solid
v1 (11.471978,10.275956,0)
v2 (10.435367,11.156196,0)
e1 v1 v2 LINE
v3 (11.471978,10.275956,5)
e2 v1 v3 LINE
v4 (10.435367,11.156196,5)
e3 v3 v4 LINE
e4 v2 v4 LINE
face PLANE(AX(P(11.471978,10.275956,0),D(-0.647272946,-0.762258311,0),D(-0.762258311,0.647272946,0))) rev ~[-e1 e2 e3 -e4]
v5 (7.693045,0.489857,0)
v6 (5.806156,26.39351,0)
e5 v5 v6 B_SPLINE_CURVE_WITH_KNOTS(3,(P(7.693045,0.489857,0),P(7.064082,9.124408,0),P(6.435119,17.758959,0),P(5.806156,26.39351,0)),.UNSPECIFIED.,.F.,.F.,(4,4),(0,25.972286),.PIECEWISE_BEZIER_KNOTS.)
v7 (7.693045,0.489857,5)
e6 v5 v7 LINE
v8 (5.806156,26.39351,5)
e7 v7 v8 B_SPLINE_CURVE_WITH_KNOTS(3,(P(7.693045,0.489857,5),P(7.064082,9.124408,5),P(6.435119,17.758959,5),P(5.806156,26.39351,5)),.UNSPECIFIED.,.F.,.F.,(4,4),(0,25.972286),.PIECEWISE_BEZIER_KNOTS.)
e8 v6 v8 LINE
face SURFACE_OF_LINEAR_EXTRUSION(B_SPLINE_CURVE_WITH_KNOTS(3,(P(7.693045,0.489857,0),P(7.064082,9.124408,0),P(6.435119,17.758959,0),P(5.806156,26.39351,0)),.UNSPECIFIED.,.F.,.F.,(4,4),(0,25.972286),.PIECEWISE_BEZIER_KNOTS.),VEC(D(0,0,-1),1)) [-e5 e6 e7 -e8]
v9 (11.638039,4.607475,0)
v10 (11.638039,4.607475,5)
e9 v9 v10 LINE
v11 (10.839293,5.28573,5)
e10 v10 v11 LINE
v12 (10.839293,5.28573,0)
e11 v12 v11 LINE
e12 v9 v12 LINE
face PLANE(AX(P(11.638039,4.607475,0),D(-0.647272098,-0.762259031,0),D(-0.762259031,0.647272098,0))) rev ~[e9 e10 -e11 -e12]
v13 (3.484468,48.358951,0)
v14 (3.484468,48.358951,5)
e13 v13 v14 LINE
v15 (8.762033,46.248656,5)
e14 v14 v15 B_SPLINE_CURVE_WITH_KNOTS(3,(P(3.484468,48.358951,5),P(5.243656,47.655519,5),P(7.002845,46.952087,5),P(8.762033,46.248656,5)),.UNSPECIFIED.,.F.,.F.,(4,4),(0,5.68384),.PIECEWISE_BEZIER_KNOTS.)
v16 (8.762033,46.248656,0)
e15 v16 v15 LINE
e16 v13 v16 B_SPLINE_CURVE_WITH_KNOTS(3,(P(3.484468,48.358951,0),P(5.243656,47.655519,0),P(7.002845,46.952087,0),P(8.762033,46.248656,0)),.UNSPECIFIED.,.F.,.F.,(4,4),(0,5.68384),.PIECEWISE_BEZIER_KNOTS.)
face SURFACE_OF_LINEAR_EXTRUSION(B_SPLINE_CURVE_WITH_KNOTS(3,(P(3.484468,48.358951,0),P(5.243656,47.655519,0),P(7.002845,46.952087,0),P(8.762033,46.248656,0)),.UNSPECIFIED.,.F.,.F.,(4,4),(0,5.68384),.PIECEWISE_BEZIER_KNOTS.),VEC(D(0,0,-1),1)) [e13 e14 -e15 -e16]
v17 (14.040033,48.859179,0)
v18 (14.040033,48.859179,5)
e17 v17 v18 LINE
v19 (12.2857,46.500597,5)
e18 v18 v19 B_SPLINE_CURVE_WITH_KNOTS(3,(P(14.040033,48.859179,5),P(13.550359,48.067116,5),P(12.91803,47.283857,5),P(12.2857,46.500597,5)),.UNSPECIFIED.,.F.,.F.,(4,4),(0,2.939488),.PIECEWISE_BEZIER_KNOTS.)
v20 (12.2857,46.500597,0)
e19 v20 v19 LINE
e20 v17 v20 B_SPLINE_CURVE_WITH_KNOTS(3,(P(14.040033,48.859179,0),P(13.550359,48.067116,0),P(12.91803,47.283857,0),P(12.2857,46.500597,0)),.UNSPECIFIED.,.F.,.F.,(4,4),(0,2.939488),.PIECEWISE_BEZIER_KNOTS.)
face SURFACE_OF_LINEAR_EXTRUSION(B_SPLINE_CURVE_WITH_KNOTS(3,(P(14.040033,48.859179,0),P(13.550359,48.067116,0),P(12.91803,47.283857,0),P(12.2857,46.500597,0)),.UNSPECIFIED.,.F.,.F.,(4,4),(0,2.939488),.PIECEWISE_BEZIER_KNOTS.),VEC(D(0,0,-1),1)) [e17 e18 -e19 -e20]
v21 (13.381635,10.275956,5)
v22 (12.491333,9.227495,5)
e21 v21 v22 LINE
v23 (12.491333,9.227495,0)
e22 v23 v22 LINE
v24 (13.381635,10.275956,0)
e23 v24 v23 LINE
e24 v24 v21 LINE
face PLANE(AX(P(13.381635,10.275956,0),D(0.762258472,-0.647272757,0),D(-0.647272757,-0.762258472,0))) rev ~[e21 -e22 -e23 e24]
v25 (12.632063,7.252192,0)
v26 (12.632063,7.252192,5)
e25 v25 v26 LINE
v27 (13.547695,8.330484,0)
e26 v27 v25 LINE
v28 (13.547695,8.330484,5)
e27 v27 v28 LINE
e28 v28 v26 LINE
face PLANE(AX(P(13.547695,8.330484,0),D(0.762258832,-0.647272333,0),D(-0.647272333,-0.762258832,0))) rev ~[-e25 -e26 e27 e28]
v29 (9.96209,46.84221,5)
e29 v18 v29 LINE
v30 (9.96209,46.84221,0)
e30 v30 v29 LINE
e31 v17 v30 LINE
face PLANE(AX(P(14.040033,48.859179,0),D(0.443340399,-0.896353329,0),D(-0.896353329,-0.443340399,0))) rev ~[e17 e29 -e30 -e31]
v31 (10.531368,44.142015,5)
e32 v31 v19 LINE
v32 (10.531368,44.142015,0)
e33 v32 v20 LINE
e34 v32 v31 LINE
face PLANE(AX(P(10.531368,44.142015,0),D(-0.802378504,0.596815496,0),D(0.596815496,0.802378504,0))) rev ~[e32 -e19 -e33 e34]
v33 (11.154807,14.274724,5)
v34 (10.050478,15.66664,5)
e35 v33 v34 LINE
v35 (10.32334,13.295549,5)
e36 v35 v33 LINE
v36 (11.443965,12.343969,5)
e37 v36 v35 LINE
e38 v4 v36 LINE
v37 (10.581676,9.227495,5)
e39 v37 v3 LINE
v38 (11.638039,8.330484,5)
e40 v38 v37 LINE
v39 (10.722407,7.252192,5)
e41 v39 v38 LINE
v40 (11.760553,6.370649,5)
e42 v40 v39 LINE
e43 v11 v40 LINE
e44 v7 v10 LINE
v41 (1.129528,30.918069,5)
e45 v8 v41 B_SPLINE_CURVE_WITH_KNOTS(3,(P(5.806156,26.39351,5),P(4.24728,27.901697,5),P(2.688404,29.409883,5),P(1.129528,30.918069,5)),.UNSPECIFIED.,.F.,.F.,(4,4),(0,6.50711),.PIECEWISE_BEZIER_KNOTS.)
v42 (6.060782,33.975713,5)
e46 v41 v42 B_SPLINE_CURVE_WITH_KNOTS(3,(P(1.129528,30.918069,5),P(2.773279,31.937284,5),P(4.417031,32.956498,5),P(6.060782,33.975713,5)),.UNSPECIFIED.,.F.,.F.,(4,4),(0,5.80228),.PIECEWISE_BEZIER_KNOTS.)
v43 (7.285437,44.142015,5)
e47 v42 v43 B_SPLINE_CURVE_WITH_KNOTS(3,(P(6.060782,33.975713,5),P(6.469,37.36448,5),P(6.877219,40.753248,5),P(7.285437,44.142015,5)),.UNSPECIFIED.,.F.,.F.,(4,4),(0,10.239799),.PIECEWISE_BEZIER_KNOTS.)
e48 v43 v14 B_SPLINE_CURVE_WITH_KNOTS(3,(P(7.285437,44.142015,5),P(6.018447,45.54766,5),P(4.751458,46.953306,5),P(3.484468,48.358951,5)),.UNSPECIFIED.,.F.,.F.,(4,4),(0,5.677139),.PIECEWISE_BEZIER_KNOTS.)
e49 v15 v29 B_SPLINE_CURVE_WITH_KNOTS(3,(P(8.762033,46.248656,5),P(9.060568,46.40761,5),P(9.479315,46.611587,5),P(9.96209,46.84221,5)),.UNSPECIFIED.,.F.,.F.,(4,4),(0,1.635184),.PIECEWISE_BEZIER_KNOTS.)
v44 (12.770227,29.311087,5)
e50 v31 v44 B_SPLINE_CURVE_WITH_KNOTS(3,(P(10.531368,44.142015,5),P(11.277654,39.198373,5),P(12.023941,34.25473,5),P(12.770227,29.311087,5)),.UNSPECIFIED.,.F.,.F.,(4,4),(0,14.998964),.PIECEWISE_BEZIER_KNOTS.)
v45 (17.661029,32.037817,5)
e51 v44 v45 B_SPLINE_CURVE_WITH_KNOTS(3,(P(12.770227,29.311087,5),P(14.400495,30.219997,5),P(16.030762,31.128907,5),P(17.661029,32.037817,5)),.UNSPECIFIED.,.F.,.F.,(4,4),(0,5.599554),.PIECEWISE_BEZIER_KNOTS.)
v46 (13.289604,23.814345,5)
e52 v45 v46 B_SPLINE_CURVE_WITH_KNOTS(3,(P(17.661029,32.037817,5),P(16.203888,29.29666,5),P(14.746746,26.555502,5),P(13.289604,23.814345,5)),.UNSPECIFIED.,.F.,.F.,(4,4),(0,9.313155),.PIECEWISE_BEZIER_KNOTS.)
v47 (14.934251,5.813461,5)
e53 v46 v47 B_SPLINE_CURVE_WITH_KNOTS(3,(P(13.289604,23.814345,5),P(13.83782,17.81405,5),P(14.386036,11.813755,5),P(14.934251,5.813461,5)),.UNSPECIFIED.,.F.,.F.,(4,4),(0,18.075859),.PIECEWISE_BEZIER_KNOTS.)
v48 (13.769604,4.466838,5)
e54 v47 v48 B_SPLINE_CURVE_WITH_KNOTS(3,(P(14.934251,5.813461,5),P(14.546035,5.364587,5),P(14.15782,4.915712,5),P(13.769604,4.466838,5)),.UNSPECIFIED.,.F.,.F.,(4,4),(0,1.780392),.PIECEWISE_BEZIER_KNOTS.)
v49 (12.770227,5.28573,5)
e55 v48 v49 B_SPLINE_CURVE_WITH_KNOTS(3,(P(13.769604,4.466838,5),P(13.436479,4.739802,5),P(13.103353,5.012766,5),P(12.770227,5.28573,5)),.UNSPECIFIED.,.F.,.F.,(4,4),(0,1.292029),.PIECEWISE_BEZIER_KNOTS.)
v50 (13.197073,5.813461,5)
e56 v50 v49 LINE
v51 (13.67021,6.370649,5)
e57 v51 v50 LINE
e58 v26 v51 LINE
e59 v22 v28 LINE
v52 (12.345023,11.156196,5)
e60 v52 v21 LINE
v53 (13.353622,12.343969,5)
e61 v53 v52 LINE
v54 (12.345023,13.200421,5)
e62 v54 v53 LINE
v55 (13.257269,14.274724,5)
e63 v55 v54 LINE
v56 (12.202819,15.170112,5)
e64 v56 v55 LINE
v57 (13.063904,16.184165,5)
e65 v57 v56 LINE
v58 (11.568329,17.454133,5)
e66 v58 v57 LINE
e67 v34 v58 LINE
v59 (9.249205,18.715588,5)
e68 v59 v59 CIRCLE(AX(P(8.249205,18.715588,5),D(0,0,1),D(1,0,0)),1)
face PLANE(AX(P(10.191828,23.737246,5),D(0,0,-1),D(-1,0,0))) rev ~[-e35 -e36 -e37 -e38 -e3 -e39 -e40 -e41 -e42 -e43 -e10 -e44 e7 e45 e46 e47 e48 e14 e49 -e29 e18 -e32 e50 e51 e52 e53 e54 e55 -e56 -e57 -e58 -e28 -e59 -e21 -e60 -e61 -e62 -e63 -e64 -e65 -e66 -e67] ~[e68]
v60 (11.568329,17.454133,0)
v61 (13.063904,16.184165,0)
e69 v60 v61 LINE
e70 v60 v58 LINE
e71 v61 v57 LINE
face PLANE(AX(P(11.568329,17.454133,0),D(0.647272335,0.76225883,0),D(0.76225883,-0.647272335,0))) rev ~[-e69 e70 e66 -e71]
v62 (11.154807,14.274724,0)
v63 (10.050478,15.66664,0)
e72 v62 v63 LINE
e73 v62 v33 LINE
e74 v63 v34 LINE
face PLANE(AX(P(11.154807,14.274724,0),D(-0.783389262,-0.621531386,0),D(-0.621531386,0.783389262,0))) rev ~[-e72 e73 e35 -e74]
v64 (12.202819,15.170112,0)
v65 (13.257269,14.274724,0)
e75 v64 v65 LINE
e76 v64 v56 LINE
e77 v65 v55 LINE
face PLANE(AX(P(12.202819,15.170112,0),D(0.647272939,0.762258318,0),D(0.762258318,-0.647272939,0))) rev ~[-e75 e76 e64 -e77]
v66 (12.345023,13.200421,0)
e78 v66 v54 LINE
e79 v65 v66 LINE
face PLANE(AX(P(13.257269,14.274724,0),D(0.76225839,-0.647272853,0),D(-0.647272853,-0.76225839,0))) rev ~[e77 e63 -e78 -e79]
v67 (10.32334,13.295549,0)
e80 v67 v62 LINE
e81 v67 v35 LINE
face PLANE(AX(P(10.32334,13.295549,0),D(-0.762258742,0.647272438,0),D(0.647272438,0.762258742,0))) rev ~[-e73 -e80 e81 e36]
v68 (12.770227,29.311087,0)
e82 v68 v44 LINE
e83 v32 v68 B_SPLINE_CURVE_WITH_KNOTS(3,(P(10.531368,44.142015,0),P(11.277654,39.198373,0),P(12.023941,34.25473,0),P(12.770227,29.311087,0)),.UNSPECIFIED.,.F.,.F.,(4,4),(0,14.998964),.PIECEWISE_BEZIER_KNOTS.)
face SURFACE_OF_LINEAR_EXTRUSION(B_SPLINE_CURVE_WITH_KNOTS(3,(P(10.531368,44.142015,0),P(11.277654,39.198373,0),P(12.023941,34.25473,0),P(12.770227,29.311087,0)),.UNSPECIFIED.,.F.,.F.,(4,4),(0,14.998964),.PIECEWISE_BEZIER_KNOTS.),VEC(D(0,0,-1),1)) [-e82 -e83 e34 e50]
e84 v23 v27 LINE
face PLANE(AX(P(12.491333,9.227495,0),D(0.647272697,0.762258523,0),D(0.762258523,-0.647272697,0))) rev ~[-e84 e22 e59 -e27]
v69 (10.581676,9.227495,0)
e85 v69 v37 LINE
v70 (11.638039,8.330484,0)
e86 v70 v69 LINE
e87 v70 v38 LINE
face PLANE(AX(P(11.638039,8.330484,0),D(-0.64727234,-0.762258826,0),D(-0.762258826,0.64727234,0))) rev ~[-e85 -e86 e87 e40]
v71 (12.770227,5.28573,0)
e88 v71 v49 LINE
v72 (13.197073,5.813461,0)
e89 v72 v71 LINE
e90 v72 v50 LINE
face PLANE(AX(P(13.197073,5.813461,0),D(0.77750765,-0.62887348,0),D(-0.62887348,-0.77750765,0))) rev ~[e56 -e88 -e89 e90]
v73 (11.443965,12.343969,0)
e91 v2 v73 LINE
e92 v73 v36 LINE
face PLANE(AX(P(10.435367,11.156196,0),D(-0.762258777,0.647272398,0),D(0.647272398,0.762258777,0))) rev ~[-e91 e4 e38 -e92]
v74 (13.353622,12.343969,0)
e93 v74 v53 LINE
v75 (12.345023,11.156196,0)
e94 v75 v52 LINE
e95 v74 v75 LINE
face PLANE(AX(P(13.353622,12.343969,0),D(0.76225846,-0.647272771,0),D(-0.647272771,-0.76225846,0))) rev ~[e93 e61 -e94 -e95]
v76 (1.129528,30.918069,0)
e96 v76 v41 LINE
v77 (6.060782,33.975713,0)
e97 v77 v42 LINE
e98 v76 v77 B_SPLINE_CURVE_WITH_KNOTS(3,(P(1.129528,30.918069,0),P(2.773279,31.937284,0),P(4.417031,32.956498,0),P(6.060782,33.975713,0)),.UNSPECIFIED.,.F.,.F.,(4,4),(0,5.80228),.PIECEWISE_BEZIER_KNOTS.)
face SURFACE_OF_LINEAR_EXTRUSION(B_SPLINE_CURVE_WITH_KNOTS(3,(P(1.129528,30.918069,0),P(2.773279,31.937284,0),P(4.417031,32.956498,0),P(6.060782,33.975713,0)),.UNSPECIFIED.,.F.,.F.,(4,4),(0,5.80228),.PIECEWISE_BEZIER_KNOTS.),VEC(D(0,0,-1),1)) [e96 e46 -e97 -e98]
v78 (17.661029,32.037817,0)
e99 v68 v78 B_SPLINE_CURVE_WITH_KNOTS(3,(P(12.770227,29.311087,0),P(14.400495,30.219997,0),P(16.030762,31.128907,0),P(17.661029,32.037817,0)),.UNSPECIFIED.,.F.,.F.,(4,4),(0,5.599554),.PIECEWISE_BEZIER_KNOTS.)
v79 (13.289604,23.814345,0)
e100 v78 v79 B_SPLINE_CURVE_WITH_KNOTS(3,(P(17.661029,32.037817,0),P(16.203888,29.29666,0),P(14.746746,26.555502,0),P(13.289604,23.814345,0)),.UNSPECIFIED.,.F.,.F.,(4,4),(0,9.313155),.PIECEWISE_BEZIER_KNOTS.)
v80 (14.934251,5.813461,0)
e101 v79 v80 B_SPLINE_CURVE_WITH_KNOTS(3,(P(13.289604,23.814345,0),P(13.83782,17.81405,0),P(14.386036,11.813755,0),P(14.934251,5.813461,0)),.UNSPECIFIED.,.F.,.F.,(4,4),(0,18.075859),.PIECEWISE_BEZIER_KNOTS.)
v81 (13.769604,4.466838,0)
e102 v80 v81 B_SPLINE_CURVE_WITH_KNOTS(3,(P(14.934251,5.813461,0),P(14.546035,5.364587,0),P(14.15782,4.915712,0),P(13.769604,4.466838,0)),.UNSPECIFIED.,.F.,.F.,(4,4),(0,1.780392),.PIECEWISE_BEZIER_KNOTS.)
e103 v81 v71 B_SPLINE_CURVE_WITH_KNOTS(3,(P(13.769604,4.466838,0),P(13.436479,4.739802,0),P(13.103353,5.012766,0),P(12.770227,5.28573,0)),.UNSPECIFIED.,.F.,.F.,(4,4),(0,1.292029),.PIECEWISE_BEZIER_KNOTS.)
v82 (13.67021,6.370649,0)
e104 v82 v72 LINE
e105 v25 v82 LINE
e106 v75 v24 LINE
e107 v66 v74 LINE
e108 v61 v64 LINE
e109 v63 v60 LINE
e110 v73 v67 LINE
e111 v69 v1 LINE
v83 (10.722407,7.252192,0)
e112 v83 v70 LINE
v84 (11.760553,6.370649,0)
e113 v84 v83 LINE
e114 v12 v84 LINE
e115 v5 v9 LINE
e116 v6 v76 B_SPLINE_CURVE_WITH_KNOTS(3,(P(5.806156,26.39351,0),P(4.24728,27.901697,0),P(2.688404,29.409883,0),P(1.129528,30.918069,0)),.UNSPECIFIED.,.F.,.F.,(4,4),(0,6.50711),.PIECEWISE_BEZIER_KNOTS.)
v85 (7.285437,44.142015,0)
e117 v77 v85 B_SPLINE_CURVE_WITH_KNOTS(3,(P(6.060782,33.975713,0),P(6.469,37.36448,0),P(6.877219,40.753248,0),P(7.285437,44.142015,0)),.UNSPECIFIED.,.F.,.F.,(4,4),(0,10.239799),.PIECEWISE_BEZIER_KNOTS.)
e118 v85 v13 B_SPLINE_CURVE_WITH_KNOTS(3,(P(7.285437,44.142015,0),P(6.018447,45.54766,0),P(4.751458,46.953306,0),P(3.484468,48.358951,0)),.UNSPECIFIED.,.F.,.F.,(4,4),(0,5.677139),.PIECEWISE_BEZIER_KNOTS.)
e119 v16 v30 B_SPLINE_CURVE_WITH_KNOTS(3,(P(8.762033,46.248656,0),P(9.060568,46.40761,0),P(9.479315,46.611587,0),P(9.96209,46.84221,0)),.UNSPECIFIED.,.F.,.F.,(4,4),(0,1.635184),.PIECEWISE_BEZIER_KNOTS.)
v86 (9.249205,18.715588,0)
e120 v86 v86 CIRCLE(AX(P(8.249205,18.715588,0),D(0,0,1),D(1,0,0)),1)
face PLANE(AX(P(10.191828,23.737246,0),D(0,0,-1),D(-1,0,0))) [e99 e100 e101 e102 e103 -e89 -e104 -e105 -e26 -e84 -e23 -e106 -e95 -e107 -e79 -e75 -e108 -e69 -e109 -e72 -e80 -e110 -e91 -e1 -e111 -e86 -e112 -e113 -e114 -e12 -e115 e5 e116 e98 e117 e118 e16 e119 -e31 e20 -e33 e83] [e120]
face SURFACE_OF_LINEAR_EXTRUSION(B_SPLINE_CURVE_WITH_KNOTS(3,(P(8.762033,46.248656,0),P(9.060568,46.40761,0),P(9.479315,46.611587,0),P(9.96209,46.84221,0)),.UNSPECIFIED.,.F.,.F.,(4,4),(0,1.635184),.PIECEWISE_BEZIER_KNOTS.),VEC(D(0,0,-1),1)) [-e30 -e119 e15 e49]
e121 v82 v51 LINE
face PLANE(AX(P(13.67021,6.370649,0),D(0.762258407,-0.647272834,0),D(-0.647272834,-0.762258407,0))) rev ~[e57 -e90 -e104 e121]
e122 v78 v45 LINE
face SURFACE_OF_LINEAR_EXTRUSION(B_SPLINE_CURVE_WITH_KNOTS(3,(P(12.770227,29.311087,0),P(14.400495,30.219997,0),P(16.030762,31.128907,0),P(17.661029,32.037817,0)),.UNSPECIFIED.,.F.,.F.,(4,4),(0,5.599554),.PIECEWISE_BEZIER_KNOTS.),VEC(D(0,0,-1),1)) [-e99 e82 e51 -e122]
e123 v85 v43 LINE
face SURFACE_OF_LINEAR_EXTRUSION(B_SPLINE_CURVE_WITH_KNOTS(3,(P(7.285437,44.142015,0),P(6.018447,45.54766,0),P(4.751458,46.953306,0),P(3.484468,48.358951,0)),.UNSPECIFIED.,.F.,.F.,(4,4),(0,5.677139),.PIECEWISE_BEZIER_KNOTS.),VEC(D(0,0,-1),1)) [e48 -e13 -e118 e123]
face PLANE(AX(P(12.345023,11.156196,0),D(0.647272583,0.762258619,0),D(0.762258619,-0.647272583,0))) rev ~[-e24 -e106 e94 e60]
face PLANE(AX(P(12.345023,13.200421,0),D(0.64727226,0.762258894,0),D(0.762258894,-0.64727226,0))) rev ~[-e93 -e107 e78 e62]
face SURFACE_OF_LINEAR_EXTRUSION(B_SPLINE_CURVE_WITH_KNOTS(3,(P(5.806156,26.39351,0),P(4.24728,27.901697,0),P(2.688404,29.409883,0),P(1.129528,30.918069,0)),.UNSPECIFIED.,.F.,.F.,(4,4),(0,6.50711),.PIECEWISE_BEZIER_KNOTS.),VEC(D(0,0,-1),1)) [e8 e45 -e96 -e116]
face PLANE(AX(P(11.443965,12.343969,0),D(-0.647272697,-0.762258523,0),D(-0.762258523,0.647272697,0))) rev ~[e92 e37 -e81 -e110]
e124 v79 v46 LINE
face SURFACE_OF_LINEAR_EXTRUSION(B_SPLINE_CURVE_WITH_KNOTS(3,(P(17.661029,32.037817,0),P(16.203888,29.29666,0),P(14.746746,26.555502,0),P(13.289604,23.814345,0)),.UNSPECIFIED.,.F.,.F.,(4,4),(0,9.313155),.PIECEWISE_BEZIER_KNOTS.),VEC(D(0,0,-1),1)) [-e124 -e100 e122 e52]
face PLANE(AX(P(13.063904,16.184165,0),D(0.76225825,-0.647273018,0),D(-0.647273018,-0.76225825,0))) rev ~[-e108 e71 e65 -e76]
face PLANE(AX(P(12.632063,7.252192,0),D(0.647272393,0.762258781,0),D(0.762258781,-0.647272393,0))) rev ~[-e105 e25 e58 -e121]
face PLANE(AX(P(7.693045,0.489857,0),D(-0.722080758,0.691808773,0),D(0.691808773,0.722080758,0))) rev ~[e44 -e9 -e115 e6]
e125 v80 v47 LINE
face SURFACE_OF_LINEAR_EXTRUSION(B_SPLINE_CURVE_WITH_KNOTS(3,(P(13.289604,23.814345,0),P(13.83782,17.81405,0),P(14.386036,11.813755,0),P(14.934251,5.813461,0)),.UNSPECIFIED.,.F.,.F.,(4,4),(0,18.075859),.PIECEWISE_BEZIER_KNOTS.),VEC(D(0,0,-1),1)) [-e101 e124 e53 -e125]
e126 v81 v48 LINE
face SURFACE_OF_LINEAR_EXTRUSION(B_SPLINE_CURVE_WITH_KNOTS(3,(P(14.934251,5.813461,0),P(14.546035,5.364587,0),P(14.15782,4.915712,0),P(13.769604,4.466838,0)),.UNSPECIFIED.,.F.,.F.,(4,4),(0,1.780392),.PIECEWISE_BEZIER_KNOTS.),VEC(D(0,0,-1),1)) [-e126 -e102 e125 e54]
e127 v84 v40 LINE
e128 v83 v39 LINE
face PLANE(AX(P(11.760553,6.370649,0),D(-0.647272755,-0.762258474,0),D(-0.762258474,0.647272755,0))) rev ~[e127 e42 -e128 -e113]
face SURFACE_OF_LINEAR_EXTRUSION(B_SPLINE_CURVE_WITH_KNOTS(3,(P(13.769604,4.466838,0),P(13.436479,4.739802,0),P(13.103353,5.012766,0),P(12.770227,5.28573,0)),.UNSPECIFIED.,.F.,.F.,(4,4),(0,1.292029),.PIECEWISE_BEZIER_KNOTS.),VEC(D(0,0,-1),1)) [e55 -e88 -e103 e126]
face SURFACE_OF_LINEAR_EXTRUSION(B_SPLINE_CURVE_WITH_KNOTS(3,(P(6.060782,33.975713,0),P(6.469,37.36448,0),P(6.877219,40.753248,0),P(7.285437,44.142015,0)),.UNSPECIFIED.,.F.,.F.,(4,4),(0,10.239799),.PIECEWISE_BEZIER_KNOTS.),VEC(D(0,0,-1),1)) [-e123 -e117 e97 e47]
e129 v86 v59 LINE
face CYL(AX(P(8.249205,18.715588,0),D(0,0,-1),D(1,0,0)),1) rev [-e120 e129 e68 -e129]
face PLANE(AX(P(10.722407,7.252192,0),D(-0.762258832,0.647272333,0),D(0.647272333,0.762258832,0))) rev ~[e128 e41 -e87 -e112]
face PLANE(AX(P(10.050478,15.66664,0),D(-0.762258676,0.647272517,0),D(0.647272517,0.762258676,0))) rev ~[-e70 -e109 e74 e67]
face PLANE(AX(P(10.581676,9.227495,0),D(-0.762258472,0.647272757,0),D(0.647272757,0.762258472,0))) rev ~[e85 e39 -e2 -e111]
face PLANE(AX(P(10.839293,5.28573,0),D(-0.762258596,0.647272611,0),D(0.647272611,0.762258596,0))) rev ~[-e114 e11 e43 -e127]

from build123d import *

# Parameters (mm, degrees)
F0_R     = 1
F1_DEPTH = 5


with BuildPart() as f1:
    # F0 (on Top) → F1 (new body)
    with BuildSketch(Plane.XY):
        with BuildLine():
            add(Edge.make_bspline(
                [(7.693045, 0.489857), (7.064082, 9.124408), (6.435119, 17.758959), (5.806156, 26.39351)],
                knots=[0, 0, 0, 0, 25.972286, 25.972286, 25.972286, 25.972286], degree=3))
            Line((7.693045, 0.489857), (11.638039, 4.607475))
            Line((11.638039, 4.607475), (10.839293, 5.28573))
            Line((10.839293, 5.28573), (11.760553, 6.370649))
            Line((11.760553, 6.370649), (10.722407, 7.252192))
            Line((10.722407, 7.252192), (11.638039, 8.330484))
            Line((11.638039, 8.330484), (10.581676, 9.227495))
            Line((10.581676, 9.227495), (11.471978, 10.275956))
            Line((11.471978, 10.275956), (10.435367, 11.156196))
            Line((10.435367, 11.156196), (11.443965, 12.343969))
            Line((11.443965, 12.343969), (10.32334, 13.295549))
            Line((10.32334, 13.295549), (11.154807, 14.274724))
            Line((11.154807, 14.274724), (10.050478, 15.66664))
            Line((10.050478, 15.66664), (11.568329, 17.454133))
            Line((11.568329, 17.454133), (13.063904, 16.184165))
            Line((13.063904, 16.184165), (12.202819, 15.170112))
            Line((12.202819, 15.170112), (13.257269, 14.274724))
            Line((13.257269, 14.274724), (12.345023, 13.200421))
            Line((12.345023, 13.200421), (13.353622, 12.343969))
            Line((13.353622, 12.343969), (12.345023, 11.156196))
            Line((12.345023, 11.156196), (13.381635, 10.275956))
            Line((13.381635, 10.275956), (12.491333, 9.227495))
            Line((12.491333, 9.227495), (13.547695, 8.330484))
            Line((13.547695, 8.330484), (12.632063, 7.252192))
            Line((12.632063, 7.252192), (13.67021, 6.370649))
            Line((13.67021, 6.370649), (13.197073, 5.813461))
            Line((13.197073, 5.813461), (12.770227, 5.28573))
            add(Edge.make_bspline(
                [(13.769604, 4.466838), (13.436479, 4.739802), (13.103353, 5.012766), (12.770227, 5.28573)],
                knots=[0, 0, 0, 0, 1.292029, 1.292029, 1.292029, 1.292029], degree=3))
            add(Edge.make_bspline(
                [(14.934251, 5.813461), (14.546035, 5.364587), (14.15782, 4.915712), (13.769604, 4.466838)],
                knots=[0, 0, 0, 0, 1.780392, 1.780392, 1.780392, 1.780392], degree=3))
            add(Edge.make_bspline(
                [(13.289604, 23.814345), (13.83782, 17.81405), (14.386036, 11.813755), (14.934251, 5.813461)],
                knots=[0, 0, 0, 0, 18.075859, 18.075859, 18.075859, 18.075859], degree=3))
            add(Edge.make_bspline(
                [(17.661029, 32.037817), (16.203888, 29.29666), (14.746746, 26.555502), (13.289604, 23.814345)],
                knots=[0, 0, 0, 0, 9.313155, 9.313155, 9.313155, 9.313155], degree=3))
            add(Edge.make_bspline(
                [(12.770227, 29.311087), (14.400495, 30.219997), (16.030762, 31.128907), (17.661029, 32.037817)],
                knots=[0, 0, 0, 0, 5.599554, 5.599554, 5.599554, 5.599554], degree=3))
            add(Edge.make_bspline(
                [(10.531368, 44.142015), (11.277654, 39.198373), (12.023941, 34.25473), (12.770227, 29.311087)],
                knots=[0, 0, 0, 0, 14.998964, 14.998964, 14.998964, 14.998964], degree=3))
            add(Edge.make_bspline(
                [(12.2857, 46.500597), (11.653371, 45.717337), (11.021041, 44.934078), (10.531368, 44.142015)],
                knots=[2.939488, 2.939488, 2.939488, 2.939488, 5.878976, 5.878976, 5.878976, 5.878976], degree=3))
            Line((12.2857, 46.500597), (14.040033, 48.859179))
            add(Edge.make_bspline(
                [(9.96209, 46.84221), (11.217791, 47.44206), (12.906654, 48.222175), (14.040033, 48.859179)],
                knots=[1.635184, 1.635184, 1.635184, 1.635184, 5.888303, 5.888303, 5.888303, 5.888303], degree=3))
            Line((9.96209, 46.84221), (8.762033, 46.248656))
            add(Edge.make_bspline(
                [(3.484468, 48.358951), (5.243656, 47.655519), (7.002845, 46.952087), (8.762033, 46.248656)],
                knots=[0, 0, 0, 0, 5.68384, 5.68384, 5.68384, 5.68384], degree=3))
            add(Edge.make_bspline(
                [(7.285437, 44.142015), (6.018447, 45.54766), (4.751458, 46.953306), (3.484468, 48.358951)],
                knots=[0, 0, 0, 0, 5.677139, 5.677139, 5.677139, 5.677139], degree=3))
            add(Edge.make_bspline(
                [(6.060782, 33.975713), (6.469, 37.36448), (6.877219, 40.753248), (7.285437, 44.142015)],
                knots=[0, 0, 0, 0, 10.239799, 10.239799, 10.239799, 10.239799], degree=3))
            add(Edge.make_bspline(
                [(1.129528, 30.918069), (2.773279, 31.937284), (4.417031, 32.956498), (6.060782, 33.975713)],
                knots=[0, 0, 0, 0, 5.80228, 5.80228, 5.80228, 5.80228], degree=3))
            add(Edge.make_bspline(
                [(5.806156, 26.39351), (4.24728, 27.901697), (2.688404, 29.409883), (1.129528, 30.918069)],
                knots=[0, 0, 0, 0, 6.50711, 6.50711, 6.50711, 6.50711], degree=3))
        make_face()
        with Locations((8.249205, 18.715588)):
            Circle(F0_R, mode=Mode.SUBTRACT)
        with BuildLine():
            add(Edge.make_bspline(
                [(8.762033, 46.248656), (9.060568, 46.40761), (9.479315, 46.611587), (9.96209, 46.84221)],
                knots=[0, 0, 0, 0, 1.635184, 1.635184, 1.635184, 1.635184], degree=3))
            Line((8.762033, 46.248656), (9.96209, 46.84221))
        make_face()
        with BuildLine():
            Line((14.040033, 48.859179), (9.96209, 46.84221))
            add(Edge.make_bspline(
                [(9.96209, 46.84221), (11.217791, 47.44206), (12.906654, 48.222175), (14.040033, 48.859179)],
                knots=[1.635184, 1.635184, 1.635184, 1.635184, 5.888303, 5.888303, 5.888303, 5.888303], degree=3))
        make_face()
        with BuildLine():
            add(Edge.make_bspline(
                [(14.040033, 48.859179), (13.550359, 48.067116), (12.91803, 47.283857), (12.2857, 46.500597)],
                knots=[0, 0, 0, 0, 2.939488, 2.939488, 2.939488, 2.939488], degree=3))
            Line((14.040033, 48.859179), (12.2857, 46.500597))
        make_face()
        with BuildLine():
            Line((10.531368, 44.142015), (12.2857, 46.500597))
            add(Edge.make_bspline(
                [(12.2857, 46.500597), (11.653371, 45.717337), (11.021041, 44.934078), (10.531368, 44.142015)],
                knots=[2.939488, 2.939488, 2.939488, 2.939488, 5.878976, 5.878976, 5.878976, 5.878976], degree=3))
        make_face()
    extrude(amount=F1_DEPTH)


solid = f1.part
